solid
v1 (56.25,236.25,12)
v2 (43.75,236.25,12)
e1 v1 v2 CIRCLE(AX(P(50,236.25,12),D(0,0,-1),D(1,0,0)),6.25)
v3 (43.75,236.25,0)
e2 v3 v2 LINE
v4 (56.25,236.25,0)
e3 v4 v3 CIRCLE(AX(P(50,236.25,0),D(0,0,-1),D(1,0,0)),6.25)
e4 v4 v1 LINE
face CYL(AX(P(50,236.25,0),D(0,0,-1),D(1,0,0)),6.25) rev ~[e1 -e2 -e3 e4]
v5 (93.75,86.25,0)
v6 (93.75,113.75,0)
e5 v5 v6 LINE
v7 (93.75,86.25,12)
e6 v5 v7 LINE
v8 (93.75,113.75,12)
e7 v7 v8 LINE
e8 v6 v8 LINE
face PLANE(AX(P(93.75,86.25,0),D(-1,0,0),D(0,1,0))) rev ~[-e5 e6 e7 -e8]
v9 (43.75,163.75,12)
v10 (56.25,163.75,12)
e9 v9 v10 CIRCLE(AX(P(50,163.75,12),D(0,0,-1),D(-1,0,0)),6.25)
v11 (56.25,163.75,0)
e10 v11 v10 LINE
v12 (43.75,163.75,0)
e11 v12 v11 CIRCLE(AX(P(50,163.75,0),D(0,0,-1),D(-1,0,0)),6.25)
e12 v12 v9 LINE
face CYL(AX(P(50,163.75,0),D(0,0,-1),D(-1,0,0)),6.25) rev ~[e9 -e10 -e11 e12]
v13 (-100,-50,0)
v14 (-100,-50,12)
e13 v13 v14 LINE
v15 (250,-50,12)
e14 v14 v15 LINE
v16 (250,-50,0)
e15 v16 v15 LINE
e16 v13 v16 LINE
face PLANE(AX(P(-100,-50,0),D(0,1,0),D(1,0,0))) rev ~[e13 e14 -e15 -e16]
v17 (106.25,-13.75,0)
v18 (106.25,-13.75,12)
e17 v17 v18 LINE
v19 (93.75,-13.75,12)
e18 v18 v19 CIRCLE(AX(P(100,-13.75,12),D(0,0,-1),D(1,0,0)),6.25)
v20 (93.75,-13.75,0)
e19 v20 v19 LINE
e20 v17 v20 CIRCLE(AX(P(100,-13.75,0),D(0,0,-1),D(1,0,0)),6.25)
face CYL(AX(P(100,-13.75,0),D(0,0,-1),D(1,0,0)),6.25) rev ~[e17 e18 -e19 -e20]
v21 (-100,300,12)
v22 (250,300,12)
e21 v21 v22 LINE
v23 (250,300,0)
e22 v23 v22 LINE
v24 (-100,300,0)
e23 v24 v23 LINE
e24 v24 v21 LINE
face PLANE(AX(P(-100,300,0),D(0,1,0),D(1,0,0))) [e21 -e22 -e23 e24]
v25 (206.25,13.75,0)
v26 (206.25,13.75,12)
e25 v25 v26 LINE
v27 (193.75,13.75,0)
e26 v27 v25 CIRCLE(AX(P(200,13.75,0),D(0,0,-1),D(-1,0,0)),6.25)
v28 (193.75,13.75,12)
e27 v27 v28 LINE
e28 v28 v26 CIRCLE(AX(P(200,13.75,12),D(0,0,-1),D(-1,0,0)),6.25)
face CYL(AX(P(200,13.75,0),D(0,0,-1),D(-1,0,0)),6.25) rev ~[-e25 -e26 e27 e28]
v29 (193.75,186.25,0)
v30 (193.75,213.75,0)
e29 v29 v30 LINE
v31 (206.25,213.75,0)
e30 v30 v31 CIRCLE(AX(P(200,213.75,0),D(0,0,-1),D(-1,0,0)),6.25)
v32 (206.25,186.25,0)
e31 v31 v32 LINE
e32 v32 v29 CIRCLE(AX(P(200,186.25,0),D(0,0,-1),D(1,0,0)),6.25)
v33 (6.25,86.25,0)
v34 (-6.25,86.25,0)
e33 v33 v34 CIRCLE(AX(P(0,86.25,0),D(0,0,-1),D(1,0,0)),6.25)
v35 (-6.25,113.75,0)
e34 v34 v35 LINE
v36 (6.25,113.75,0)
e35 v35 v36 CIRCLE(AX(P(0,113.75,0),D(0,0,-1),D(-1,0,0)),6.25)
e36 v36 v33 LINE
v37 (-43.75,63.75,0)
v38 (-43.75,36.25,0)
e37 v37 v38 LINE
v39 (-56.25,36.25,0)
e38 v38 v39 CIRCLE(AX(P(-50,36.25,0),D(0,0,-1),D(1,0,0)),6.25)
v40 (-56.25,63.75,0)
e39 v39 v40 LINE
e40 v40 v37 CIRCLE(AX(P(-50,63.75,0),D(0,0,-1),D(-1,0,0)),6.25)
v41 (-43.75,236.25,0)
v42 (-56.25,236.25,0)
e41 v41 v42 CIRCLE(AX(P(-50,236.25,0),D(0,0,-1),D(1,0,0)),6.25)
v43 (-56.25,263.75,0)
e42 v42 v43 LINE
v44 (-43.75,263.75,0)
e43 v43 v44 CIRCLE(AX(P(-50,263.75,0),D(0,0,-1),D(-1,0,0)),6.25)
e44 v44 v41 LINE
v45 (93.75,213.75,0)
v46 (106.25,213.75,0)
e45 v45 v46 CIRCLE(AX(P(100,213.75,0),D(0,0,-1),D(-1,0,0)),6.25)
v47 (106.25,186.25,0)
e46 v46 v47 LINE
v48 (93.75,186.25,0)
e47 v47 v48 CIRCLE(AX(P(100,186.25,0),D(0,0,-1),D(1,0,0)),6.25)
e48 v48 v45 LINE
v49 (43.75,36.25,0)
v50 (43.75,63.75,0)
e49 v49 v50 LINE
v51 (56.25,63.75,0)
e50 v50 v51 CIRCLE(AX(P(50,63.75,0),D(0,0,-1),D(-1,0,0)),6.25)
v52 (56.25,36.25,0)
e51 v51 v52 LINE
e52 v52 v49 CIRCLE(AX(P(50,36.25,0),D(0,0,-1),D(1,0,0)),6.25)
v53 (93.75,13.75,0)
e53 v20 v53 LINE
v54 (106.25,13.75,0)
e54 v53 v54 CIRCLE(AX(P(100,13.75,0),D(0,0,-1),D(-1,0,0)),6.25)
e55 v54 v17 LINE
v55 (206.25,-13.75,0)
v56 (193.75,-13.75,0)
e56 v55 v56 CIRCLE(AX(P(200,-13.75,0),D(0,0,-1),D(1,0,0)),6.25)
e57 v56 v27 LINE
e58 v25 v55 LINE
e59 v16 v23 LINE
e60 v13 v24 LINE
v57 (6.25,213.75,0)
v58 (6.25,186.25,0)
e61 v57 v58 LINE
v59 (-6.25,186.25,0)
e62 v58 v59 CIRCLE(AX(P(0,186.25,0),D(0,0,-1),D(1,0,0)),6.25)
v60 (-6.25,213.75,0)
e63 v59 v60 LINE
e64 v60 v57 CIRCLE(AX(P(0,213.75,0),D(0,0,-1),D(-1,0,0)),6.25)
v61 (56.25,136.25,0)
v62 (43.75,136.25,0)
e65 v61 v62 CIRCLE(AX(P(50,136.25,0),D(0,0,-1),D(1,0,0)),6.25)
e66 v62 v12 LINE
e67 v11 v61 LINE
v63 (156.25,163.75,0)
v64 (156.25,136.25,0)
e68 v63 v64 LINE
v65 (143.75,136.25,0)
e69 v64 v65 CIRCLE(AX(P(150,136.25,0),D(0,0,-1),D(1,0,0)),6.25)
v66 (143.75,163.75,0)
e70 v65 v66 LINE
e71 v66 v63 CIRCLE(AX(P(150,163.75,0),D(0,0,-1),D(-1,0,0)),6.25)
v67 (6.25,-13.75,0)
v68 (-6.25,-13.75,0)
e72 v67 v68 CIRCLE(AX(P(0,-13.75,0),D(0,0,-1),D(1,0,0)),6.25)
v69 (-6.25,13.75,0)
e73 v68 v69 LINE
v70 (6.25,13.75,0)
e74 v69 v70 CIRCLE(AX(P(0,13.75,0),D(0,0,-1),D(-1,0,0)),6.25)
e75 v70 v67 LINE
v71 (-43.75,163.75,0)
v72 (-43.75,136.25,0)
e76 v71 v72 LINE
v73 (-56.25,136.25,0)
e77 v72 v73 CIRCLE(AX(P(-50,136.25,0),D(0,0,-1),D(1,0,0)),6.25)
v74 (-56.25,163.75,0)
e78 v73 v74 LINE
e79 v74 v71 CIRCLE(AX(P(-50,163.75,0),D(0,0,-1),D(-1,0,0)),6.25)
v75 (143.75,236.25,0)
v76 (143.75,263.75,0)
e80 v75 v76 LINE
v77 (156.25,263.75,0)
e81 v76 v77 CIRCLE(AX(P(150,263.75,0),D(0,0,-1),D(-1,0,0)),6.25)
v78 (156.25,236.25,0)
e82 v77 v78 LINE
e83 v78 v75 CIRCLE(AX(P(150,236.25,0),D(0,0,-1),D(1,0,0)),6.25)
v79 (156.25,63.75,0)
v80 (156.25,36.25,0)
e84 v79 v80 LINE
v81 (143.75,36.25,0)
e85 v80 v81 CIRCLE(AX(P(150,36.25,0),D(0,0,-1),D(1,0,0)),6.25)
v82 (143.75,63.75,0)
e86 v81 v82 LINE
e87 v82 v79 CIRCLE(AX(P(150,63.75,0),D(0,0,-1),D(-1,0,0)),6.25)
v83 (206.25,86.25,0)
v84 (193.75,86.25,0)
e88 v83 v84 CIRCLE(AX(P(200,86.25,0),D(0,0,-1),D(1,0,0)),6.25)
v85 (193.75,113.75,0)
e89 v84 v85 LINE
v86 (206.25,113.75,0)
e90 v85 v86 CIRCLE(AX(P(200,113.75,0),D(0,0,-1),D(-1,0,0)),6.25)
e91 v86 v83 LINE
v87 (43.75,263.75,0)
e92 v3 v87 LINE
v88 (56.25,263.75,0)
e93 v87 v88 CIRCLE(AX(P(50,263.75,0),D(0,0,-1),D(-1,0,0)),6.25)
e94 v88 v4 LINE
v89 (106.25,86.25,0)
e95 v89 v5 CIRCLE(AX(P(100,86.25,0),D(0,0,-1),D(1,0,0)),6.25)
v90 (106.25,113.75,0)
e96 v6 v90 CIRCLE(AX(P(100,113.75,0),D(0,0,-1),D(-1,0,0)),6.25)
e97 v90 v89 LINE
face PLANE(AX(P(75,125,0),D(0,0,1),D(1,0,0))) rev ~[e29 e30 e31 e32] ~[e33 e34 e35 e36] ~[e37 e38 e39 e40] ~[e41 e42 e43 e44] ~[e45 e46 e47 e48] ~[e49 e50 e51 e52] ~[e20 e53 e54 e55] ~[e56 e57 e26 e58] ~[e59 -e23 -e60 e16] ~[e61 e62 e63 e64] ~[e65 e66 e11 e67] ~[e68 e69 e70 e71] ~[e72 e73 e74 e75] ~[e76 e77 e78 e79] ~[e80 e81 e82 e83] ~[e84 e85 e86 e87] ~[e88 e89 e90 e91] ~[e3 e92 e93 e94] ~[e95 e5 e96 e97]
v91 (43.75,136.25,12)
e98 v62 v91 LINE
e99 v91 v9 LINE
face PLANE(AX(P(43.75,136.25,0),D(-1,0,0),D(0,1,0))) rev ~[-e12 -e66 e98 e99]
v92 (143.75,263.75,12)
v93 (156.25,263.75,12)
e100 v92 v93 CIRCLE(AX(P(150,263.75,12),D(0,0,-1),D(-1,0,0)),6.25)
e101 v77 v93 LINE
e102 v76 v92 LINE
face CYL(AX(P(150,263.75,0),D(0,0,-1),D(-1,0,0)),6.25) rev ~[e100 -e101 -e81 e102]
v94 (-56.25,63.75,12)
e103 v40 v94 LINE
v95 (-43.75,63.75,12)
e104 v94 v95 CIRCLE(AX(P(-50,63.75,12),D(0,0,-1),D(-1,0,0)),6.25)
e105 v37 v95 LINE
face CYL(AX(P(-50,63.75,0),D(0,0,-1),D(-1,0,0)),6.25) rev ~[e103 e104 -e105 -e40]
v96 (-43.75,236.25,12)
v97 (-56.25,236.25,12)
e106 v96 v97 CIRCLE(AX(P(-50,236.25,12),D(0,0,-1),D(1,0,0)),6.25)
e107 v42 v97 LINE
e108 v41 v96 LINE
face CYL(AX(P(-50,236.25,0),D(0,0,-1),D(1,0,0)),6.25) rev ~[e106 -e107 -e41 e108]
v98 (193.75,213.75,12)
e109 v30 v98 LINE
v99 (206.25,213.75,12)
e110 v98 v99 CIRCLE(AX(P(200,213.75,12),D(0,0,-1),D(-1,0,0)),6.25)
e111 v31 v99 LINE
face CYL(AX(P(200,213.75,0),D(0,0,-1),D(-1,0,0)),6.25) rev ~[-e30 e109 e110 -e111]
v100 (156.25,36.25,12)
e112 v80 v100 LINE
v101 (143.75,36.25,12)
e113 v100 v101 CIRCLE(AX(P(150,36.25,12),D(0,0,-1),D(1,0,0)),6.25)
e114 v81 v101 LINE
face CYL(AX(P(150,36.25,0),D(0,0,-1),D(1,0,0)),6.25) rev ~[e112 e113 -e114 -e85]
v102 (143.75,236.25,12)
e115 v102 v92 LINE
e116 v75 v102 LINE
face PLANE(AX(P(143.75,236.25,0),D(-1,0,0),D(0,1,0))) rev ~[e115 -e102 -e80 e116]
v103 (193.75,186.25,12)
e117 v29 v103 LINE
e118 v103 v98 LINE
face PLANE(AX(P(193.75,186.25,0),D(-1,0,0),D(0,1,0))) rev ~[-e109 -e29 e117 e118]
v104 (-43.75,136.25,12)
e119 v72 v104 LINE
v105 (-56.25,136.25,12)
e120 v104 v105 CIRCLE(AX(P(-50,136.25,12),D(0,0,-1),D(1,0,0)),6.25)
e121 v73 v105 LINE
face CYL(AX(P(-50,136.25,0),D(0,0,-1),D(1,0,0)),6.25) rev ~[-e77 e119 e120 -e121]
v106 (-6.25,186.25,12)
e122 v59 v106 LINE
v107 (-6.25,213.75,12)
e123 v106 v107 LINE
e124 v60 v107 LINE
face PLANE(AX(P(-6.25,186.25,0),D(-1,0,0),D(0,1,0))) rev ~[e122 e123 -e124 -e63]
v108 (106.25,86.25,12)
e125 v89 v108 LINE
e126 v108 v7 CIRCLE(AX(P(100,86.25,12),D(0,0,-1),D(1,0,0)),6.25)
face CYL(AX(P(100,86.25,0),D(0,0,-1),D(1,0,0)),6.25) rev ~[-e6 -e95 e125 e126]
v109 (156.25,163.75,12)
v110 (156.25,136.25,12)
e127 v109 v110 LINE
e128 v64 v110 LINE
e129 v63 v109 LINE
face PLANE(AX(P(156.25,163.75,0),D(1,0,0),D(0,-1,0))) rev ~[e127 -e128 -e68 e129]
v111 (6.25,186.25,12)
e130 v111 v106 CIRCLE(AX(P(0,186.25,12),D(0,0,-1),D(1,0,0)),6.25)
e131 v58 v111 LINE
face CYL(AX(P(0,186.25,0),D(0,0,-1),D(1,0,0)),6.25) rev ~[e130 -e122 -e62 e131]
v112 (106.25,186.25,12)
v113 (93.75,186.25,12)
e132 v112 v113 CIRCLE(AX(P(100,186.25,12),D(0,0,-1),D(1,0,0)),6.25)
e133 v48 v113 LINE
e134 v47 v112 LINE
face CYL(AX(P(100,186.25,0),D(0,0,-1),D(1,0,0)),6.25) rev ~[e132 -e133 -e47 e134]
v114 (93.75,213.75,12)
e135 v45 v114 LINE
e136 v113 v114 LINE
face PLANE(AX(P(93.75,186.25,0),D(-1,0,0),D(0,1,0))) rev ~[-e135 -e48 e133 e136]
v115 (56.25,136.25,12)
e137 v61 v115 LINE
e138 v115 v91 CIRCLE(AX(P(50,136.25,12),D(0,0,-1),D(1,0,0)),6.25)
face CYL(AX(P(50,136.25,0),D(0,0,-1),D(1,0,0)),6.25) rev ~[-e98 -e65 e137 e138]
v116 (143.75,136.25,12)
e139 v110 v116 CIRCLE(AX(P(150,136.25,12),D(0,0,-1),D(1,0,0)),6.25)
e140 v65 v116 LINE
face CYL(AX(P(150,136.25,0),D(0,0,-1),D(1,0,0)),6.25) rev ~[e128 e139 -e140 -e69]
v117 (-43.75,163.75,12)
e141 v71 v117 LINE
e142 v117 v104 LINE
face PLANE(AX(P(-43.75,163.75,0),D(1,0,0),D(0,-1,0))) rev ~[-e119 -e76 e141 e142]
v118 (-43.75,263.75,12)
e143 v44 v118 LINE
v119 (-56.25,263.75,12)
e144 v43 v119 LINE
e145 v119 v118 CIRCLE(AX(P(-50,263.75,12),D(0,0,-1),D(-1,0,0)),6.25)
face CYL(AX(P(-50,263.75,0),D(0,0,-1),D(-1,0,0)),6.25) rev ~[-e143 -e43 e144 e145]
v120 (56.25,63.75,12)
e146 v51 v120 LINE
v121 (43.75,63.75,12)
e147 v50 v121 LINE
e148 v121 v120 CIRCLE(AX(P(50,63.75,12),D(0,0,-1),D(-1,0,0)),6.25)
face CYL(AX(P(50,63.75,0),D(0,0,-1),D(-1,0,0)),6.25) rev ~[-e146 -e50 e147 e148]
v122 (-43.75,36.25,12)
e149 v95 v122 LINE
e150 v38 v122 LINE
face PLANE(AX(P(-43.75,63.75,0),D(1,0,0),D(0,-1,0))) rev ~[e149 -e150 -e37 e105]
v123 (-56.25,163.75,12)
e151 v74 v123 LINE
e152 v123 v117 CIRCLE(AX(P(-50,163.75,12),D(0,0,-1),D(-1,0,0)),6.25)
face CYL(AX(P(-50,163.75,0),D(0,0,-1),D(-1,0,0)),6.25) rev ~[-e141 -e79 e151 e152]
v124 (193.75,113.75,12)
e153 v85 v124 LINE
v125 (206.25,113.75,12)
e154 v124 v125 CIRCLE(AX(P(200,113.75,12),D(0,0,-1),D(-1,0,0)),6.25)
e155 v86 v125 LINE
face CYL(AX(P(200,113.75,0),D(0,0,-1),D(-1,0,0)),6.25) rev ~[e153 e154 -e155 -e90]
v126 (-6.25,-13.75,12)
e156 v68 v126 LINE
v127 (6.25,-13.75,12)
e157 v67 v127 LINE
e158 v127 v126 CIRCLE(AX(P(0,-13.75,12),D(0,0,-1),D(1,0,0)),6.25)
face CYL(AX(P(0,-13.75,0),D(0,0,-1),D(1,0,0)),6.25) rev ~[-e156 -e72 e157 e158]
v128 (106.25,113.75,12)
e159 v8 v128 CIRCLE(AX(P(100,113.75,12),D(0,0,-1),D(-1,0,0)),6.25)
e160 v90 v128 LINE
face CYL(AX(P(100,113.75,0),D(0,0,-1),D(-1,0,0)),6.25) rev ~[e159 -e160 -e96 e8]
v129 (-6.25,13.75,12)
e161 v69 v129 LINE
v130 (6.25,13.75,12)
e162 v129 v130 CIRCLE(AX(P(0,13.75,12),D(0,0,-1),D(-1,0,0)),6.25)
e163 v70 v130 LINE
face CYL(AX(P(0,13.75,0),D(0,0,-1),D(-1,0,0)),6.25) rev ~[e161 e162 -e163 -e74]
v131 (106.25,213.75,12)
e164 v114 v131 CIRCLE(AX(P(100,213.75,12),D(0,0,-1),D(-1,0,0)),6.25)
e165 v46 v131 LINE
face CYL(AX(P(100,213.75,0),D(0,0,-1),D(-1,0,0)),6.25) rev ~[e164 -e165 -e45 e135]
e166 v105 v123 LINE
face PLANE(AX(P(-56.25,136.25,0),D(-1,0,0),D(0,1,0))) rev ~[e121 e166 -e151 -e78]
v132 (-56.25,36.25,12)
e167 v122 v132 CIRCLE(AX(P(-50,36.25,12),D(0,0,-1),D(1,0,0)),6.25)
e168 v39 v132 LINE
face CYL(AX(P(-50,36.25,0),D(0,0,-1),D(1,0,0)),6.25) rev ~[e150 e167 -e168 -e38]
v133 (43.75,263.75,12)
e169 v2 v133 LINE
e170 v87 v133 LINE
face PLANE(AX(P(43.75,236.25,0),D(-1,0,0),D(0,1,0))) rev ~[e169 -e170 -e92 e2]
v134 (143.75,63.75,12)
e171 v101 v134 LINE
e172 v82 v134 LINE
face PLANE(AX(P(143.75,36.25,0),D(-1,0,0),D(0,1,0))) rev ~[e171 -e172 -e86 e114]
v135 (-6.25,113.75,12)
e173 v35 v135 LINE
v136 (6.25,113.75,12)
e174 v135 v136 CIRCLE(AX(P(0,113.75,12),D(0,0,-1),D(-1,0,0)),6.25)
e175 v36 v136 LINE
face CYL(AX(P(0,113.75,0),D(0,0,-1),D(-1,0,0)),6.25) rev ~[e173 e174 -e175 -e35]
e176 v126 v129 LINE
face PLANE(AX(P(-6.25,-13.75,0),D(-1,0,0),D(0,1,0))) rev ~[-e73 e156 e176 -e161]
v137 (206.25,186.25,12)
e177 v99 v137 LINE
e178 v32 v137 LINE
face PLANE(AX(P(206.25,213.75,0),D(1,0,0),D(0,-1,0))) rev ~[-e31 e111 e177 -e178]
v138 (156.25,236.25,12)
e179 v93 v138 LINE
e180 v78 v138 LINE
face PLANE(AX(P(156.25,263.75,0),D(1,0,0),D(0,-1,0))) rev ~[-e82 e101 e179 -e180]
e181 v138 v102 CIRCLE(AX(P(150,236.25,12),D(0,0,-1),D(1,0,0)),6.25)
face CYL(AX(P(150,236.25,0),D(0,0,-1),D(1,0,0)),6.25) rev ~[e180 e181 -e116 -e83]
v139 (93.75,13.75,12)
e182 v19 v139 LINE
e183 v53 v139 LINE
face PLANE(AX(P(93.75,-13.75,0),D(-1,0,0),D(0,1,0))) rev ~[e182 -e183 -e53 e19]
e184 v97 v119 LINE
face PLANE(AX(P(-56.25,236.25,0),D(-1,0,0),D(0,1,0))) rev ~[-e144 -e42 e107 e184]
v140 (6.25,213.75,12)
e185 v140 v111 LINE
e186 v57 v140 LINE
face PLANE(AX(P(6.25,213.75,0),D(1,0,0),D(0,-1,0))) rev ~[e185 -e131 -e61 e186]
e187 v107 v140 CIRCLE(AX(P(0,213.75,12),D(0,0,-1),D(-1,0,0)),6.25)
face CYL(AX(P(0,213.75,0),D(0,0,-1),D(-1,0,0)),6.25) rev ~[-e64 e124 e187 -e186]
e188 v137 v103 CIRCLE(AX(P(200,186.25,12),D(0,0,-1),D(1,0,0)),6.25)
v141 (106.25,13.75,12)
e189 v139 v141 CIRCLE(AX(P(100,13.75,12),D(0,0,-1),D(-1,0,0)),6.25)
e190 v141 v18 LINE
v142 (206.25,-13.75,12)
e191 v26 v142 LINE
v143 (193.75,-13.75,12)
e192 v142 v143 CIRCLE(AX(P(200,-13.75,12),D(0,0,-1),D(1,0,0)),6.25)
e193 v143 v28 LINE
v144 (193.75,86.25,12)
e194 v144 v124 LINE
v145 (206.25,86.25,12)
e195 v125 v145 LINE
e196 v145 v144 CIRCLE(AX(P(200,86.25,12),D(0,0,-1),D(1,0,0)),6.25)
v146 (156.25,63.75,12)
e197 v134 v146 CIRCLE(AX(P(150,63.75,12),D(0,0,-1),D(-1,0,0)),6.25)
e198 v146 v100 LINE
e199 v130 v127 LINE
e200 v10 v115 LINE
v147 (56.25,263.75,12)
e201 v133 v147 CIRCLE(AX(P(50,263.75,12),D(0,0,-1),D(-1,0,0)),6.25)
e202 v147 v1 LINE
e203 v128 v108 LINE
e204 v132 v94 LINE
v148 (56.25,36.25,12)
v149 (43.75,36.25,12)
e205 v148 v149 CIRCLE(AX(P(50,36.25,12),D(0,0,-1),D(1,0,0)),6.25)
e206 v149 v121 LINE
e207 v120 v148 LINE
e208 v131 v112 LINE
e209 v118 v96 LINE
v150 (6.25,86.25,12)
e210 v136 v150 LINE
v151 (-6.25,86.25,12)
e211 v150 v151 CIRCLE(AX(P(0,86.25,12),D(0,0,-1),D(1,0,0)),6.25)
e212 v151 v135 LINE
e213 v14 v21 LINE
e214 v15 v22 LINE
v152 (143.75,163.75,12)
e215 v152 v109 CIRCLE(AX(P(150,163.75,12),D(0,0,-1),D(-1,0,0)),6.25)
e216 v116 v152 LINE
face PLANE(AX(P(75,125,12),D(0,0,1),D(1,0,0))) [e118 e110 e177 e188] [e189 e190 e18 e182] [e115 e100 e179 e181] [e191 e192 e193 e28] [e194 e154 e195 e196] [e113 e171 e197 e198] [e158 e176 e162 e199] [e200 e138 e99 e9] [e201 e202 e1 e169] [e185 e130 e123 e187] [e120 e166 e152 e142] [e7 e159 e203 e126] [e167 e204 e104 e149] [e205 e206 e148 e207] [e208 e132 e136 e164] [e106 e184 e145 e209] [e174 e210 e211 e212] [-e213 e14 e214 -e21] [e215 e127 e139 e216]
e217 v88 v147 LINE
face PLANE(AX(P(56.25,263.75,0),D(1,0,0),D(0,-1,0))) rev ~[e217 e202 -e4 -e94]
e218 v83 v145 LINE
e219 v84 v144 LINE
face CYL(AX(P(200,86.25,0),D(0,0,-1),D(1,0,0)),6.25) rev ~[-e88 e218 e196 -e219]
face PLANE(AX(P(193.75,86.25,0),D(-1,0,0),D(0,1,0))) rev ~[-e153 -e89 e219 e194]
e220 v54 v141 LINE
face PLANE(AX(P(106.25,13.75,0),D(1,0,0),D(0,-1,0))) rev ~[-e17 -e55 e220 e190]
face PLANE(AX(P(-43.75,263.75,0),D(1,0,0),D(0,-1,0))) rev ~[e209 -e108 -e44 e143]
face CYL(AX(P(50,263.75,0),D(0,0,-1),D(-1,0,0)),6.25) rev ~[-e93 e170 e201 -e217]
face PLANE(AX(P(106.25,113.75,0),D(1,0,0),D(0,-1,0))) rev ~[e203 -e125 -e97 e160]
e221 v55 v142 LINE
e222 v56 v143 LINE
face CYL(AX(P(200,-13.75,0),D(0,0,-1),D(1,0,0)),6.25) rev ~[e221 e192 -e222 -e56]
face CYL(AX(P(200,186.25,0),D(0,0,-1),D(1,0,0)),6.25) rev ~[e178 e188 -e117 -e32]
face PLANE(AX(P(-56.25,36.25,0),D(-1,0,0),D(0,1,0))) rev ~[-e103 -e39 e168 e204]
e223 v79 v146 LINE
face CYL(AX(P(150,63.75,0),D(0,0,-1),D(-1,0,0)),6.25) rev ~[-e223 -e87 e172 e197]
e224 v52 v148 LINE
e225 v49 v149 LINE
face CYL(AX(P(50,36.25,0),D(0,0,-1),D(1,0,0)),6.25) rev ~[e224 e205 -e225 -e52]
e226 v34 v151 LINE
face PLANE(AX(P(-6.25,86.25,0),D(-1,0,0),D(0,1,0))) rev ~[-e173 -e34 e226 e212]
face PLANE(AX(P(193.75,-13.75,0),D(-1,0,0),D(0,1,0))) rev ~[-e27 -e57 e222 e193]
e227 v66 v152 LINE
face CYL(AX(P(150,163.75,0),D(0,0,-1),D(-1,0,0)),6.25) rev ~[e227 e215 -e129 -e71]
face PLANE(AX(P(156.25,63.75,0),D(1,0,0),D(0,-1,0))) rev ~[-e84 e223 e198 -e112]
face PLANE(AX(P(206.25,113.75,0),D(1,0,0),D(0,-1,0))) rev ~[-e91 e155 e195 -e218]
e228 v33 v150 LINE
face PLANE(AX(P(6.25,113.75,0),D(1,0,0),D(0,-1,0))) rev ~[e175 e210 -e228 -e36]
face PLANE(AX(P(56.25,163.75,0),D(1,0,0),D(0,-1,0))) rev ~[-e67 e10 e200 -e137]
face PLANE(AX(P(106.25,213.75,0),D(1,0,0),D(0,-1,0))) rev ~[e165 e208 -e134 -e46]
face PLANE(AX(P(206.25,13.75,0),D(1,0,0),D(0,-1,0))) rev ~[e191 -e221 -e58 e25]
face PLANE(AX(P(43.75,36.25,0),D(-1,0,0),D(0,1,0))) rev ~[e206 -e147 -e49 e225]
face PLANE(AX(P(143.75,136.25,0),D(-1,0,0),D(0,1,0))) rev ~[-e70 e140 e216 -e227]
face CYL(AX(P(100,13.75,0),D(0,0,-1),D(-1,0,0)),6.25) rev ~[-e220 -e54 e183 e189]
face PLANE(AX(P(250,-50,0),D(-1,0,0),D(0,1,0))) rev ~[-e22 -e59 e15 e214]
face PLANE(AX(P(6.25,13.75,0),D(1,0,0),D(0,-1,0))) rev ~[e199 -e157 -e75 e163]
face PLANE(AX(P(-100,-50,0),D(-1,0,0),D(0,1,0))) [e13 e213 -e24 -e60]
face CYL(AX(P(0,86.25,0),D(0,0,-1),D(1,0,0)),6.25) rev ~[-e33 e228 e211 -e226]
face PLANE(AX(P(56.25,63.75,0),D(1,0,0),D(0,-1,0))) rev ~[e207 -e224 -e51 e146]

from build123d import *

# Parameters (mm, degrees)
SKETCH_1_W      = 350
SKETCH_1_H      = 350
EXTRUDE_1_DEPTH = 12


with BuildPart() as part:
    # Эскиз1 → Бобышка-Вытянуть1 (new body)
    with BuildSketch(Plane.XY):
        with Locations((75, 125)):
            Rectangle(SKETCH_1_W, SKETCH_1_H)
        with BuildLine():
            Line((6.25, 13.75), (6.25, -13.75))
            ThreePointArc((6.25, -13.75), (0, -20), (-6.25, -13.75))
            Line((-6.25, -13.75), (-6.25, 13.75))
            ThreePointArc((-6.25, 13.75), (0, 20), (6.25, 13.75))
        make_face(mode=Mode.SUBTRACT)
        with BuildLine():
            Line((-43.75, 63.75), (-43.75, 36.25))
            ThreePointArc((-43.75, 36.25), (-50, 30), (-56.25, 36.25))
            Line((-56.25, 36.25), (-56.25, 63.75))
            ThreePointArc((-56.25, 63.75), (-50, 70), (-43.75, 63.75))
        make_face(mode=Mode.SUBTRACT)
        with BuildLine():
            Line((106.25, 13.75), (106.25, -13.75))
            ThreePointArc((106.25, -13.75), (100, -20), (93.75, -13.75))
            Line((93.75, -13.75), (93.75, 13.75))
            ThreePointArc((93.75, 13.75), (100, 20), (106.25, 13.75))
        make_face(mode=Mode.SUBTRACT)
        with BuildLine():
            Line((56.25, 63.75), (56.25, 36.25))
            ThreePointArc((56.25, 36.25), (50, 30), (43.75, 36.25))
            Line((43.75, 36.25), (43.75, 63.75))
            ThreePointArc((43.75, 63.75), (50, 70), (56.25, 63.75))
        make_face(mode=Mode.SUBTRACT)
        with BuildLine():
            Line((206.25, 13.75), (206.25, -13.75))
            ThreePointArc((206.25, -13.75), (200, -20), (193.75, -13.75))
            Line((193.75, -13.75), (193.75, 13.75))
            ThreePointArc((193.75, 13.75), (200, 20), (206.25, 13.75))
        make_face(mode=Mode.SUBTRACT)
        with BuildLine():
            Line((156.25, 63.75), (156.25, 36.25))
            ThreePointArc((156.25, 36.25), (150, 30), (143.75, 36.25))
            Line((143.75, 36.25), (143.75, 63.75))
            ThreePointArc((143.75, 63.75), (150, 70), (156.25, 63.75))
        make_face(mode=Mode.SUBTRACT)
        with BuildLine():
            Line((106.25, 113.75), (106.25, 86.25))
            ThreePointArc((106.25, 86.25), (100, 80), (93.75, 86.25))
            Line((93.75, 86.25), (93.75, 113.75))
            ThreePointArc((93.75, 113.75), (100, 120), (106.25, 113.75))
        make_face(mode=Mode.SUBTRACT)
        with BuildLine():
            Line((56.25, 163.75), (56.25, 136.25))
            ThreePointArc((56.25, 136.25), (50, 130), (43.75, 136.25))
            Line((43.75, 136.25), (43.75, 163.75))
            ThreePointArc((43.75, 163.75), (50, 170), (56.25, 163.75))
        make_face(mode=Mode.SUBTRACT)
        with BuildLine():
            Line((206.25, 113.75), (206.25, 86.25))
            ThreePointArc((206.25, 86.25), (200, 80), (193.75, 86.25))
            Line((193.75, 86.25), (193.75, 113.75))
            ThreePointArc((193.75, 113.75), (200, 120), (206.25, 113.75))
        make_face(mode=Mode.SUBTRACT)
        with BuildLine():
            Line((156.25, 163.75), (156.25, 136.25))
            ThreePointArc((156.25, 136.25), (150, 130), (143.75, 136.25))
            Line((143.75, 136.25), (143.75, 163.75))
            ThreePointArc((143.75, 163.75), (150, 170), (156.25, 163.75))
        make_face(mode=Mode.SUBTRACT)
        with BuildLine():
            Line((106.25, 213.75), (106.25, 186.25))
            ThreePointArc((106.25, 186.25), (100, 180), (93.75, 186.25))
            Line((93.75, 186.25), (93.75, 213.75))
            ThreePointArc((93.75, 213.75), (100, 220), (106.25, 213.75))
        make_face(mode=Mode.SUBTRACT)
        with BuildLine():
            Line((56.25, 263.75), (56.25, 236.25))
            ThreePointArc((56.25, 236.25), (50, 230), (43.75, 236.25))
            Line((43.75, 236.25), (43.75, 263.75))
            ThreePointArc((43.75, 263.75), (50, 270), (56.25, 263.75))
        make_face(mode=Mode.SUBTRACT)
        with BuildLine():
            Line((206.25, 213.75), (206.25, 186.25))
            ThreePointArc((206.25, 186.25), (200, 180), (193.75, 186.25))
            Line((193.75, 186.25), (193.75, 213.75))
            ThreePointArc((193.75, 213.75), (200, 220), (206.25, 213.75))
        make_face(mode=Mode.SUBTRACT)
        with BuildLine():
            Line((156.25, 263.75), (156.25, 236.25))
            ThreePointArc((156.25, 236.25), (150, 230), (143.75, 236.25))
            Line((143.75, 236.25), (143.75, 263.75))
            ThreePointArc((143.75, 263.75), (150, 270), (156.25, 263.75))
        make_face(mode=Mode.SUBTRACT)
        with BuildLine():
            Line((6.25, 113.75), (6.25, 86.25))
            ThreePointArc((6.25, 86.25), (0, 80), (-6.25, 86.25))
            Line((-6.25, 86.25), (-6.25, 113.75))
            ThreePointArc((-6.25, 113.75), (0, 120), (6.25, 113.75))
        make_face(mode=Mode.SUBTRACT)
        with BuildLine():
            Line((-43.75, 163.75), (-43.75, 136.25))
            ThreePointArc((-43.75, 136.25), (-50, 130), (-56.25, 136.25))
            Line((-56.25, 136.25), (-56.25, 163.75))
            ThreePointArc((-56.25, 163.75), (-50, 170), (-43.75, 163.75))
        make_face(mode=Mode.SUBTRACT)
        with BuildLine():
            Line((6.25, 213.75), (6.25, 186.25))
            ThreePointArc((6.25, 186.25), (0, 180), (-6.25, 186.25))
            Line((-6.25, 186.25), (-6.25, 213.75))
            ThreePointArc((-6.25, 213.75), (0, 220), (6.25, 213.75))
        make_face(mode=Mode.SUBTRACT)
        with BuildLine():
            Line((-43.75, 263.75), (-43.75, 236.25))
            ThreePointArc((-43.75, 236.25), (-50, 230), (-56.25, 236.25))
            Line((-56.25, 236.25), (-56.25, 263.75))
            ThreePointArc((-56.25, 263.75), (-50, 270), (-43.75, 263.75))
        make_face(mode=Mode.SUBTRACT)
    extrude(amount=EXTRUDE_1_DEPTH)


solid = part.part
